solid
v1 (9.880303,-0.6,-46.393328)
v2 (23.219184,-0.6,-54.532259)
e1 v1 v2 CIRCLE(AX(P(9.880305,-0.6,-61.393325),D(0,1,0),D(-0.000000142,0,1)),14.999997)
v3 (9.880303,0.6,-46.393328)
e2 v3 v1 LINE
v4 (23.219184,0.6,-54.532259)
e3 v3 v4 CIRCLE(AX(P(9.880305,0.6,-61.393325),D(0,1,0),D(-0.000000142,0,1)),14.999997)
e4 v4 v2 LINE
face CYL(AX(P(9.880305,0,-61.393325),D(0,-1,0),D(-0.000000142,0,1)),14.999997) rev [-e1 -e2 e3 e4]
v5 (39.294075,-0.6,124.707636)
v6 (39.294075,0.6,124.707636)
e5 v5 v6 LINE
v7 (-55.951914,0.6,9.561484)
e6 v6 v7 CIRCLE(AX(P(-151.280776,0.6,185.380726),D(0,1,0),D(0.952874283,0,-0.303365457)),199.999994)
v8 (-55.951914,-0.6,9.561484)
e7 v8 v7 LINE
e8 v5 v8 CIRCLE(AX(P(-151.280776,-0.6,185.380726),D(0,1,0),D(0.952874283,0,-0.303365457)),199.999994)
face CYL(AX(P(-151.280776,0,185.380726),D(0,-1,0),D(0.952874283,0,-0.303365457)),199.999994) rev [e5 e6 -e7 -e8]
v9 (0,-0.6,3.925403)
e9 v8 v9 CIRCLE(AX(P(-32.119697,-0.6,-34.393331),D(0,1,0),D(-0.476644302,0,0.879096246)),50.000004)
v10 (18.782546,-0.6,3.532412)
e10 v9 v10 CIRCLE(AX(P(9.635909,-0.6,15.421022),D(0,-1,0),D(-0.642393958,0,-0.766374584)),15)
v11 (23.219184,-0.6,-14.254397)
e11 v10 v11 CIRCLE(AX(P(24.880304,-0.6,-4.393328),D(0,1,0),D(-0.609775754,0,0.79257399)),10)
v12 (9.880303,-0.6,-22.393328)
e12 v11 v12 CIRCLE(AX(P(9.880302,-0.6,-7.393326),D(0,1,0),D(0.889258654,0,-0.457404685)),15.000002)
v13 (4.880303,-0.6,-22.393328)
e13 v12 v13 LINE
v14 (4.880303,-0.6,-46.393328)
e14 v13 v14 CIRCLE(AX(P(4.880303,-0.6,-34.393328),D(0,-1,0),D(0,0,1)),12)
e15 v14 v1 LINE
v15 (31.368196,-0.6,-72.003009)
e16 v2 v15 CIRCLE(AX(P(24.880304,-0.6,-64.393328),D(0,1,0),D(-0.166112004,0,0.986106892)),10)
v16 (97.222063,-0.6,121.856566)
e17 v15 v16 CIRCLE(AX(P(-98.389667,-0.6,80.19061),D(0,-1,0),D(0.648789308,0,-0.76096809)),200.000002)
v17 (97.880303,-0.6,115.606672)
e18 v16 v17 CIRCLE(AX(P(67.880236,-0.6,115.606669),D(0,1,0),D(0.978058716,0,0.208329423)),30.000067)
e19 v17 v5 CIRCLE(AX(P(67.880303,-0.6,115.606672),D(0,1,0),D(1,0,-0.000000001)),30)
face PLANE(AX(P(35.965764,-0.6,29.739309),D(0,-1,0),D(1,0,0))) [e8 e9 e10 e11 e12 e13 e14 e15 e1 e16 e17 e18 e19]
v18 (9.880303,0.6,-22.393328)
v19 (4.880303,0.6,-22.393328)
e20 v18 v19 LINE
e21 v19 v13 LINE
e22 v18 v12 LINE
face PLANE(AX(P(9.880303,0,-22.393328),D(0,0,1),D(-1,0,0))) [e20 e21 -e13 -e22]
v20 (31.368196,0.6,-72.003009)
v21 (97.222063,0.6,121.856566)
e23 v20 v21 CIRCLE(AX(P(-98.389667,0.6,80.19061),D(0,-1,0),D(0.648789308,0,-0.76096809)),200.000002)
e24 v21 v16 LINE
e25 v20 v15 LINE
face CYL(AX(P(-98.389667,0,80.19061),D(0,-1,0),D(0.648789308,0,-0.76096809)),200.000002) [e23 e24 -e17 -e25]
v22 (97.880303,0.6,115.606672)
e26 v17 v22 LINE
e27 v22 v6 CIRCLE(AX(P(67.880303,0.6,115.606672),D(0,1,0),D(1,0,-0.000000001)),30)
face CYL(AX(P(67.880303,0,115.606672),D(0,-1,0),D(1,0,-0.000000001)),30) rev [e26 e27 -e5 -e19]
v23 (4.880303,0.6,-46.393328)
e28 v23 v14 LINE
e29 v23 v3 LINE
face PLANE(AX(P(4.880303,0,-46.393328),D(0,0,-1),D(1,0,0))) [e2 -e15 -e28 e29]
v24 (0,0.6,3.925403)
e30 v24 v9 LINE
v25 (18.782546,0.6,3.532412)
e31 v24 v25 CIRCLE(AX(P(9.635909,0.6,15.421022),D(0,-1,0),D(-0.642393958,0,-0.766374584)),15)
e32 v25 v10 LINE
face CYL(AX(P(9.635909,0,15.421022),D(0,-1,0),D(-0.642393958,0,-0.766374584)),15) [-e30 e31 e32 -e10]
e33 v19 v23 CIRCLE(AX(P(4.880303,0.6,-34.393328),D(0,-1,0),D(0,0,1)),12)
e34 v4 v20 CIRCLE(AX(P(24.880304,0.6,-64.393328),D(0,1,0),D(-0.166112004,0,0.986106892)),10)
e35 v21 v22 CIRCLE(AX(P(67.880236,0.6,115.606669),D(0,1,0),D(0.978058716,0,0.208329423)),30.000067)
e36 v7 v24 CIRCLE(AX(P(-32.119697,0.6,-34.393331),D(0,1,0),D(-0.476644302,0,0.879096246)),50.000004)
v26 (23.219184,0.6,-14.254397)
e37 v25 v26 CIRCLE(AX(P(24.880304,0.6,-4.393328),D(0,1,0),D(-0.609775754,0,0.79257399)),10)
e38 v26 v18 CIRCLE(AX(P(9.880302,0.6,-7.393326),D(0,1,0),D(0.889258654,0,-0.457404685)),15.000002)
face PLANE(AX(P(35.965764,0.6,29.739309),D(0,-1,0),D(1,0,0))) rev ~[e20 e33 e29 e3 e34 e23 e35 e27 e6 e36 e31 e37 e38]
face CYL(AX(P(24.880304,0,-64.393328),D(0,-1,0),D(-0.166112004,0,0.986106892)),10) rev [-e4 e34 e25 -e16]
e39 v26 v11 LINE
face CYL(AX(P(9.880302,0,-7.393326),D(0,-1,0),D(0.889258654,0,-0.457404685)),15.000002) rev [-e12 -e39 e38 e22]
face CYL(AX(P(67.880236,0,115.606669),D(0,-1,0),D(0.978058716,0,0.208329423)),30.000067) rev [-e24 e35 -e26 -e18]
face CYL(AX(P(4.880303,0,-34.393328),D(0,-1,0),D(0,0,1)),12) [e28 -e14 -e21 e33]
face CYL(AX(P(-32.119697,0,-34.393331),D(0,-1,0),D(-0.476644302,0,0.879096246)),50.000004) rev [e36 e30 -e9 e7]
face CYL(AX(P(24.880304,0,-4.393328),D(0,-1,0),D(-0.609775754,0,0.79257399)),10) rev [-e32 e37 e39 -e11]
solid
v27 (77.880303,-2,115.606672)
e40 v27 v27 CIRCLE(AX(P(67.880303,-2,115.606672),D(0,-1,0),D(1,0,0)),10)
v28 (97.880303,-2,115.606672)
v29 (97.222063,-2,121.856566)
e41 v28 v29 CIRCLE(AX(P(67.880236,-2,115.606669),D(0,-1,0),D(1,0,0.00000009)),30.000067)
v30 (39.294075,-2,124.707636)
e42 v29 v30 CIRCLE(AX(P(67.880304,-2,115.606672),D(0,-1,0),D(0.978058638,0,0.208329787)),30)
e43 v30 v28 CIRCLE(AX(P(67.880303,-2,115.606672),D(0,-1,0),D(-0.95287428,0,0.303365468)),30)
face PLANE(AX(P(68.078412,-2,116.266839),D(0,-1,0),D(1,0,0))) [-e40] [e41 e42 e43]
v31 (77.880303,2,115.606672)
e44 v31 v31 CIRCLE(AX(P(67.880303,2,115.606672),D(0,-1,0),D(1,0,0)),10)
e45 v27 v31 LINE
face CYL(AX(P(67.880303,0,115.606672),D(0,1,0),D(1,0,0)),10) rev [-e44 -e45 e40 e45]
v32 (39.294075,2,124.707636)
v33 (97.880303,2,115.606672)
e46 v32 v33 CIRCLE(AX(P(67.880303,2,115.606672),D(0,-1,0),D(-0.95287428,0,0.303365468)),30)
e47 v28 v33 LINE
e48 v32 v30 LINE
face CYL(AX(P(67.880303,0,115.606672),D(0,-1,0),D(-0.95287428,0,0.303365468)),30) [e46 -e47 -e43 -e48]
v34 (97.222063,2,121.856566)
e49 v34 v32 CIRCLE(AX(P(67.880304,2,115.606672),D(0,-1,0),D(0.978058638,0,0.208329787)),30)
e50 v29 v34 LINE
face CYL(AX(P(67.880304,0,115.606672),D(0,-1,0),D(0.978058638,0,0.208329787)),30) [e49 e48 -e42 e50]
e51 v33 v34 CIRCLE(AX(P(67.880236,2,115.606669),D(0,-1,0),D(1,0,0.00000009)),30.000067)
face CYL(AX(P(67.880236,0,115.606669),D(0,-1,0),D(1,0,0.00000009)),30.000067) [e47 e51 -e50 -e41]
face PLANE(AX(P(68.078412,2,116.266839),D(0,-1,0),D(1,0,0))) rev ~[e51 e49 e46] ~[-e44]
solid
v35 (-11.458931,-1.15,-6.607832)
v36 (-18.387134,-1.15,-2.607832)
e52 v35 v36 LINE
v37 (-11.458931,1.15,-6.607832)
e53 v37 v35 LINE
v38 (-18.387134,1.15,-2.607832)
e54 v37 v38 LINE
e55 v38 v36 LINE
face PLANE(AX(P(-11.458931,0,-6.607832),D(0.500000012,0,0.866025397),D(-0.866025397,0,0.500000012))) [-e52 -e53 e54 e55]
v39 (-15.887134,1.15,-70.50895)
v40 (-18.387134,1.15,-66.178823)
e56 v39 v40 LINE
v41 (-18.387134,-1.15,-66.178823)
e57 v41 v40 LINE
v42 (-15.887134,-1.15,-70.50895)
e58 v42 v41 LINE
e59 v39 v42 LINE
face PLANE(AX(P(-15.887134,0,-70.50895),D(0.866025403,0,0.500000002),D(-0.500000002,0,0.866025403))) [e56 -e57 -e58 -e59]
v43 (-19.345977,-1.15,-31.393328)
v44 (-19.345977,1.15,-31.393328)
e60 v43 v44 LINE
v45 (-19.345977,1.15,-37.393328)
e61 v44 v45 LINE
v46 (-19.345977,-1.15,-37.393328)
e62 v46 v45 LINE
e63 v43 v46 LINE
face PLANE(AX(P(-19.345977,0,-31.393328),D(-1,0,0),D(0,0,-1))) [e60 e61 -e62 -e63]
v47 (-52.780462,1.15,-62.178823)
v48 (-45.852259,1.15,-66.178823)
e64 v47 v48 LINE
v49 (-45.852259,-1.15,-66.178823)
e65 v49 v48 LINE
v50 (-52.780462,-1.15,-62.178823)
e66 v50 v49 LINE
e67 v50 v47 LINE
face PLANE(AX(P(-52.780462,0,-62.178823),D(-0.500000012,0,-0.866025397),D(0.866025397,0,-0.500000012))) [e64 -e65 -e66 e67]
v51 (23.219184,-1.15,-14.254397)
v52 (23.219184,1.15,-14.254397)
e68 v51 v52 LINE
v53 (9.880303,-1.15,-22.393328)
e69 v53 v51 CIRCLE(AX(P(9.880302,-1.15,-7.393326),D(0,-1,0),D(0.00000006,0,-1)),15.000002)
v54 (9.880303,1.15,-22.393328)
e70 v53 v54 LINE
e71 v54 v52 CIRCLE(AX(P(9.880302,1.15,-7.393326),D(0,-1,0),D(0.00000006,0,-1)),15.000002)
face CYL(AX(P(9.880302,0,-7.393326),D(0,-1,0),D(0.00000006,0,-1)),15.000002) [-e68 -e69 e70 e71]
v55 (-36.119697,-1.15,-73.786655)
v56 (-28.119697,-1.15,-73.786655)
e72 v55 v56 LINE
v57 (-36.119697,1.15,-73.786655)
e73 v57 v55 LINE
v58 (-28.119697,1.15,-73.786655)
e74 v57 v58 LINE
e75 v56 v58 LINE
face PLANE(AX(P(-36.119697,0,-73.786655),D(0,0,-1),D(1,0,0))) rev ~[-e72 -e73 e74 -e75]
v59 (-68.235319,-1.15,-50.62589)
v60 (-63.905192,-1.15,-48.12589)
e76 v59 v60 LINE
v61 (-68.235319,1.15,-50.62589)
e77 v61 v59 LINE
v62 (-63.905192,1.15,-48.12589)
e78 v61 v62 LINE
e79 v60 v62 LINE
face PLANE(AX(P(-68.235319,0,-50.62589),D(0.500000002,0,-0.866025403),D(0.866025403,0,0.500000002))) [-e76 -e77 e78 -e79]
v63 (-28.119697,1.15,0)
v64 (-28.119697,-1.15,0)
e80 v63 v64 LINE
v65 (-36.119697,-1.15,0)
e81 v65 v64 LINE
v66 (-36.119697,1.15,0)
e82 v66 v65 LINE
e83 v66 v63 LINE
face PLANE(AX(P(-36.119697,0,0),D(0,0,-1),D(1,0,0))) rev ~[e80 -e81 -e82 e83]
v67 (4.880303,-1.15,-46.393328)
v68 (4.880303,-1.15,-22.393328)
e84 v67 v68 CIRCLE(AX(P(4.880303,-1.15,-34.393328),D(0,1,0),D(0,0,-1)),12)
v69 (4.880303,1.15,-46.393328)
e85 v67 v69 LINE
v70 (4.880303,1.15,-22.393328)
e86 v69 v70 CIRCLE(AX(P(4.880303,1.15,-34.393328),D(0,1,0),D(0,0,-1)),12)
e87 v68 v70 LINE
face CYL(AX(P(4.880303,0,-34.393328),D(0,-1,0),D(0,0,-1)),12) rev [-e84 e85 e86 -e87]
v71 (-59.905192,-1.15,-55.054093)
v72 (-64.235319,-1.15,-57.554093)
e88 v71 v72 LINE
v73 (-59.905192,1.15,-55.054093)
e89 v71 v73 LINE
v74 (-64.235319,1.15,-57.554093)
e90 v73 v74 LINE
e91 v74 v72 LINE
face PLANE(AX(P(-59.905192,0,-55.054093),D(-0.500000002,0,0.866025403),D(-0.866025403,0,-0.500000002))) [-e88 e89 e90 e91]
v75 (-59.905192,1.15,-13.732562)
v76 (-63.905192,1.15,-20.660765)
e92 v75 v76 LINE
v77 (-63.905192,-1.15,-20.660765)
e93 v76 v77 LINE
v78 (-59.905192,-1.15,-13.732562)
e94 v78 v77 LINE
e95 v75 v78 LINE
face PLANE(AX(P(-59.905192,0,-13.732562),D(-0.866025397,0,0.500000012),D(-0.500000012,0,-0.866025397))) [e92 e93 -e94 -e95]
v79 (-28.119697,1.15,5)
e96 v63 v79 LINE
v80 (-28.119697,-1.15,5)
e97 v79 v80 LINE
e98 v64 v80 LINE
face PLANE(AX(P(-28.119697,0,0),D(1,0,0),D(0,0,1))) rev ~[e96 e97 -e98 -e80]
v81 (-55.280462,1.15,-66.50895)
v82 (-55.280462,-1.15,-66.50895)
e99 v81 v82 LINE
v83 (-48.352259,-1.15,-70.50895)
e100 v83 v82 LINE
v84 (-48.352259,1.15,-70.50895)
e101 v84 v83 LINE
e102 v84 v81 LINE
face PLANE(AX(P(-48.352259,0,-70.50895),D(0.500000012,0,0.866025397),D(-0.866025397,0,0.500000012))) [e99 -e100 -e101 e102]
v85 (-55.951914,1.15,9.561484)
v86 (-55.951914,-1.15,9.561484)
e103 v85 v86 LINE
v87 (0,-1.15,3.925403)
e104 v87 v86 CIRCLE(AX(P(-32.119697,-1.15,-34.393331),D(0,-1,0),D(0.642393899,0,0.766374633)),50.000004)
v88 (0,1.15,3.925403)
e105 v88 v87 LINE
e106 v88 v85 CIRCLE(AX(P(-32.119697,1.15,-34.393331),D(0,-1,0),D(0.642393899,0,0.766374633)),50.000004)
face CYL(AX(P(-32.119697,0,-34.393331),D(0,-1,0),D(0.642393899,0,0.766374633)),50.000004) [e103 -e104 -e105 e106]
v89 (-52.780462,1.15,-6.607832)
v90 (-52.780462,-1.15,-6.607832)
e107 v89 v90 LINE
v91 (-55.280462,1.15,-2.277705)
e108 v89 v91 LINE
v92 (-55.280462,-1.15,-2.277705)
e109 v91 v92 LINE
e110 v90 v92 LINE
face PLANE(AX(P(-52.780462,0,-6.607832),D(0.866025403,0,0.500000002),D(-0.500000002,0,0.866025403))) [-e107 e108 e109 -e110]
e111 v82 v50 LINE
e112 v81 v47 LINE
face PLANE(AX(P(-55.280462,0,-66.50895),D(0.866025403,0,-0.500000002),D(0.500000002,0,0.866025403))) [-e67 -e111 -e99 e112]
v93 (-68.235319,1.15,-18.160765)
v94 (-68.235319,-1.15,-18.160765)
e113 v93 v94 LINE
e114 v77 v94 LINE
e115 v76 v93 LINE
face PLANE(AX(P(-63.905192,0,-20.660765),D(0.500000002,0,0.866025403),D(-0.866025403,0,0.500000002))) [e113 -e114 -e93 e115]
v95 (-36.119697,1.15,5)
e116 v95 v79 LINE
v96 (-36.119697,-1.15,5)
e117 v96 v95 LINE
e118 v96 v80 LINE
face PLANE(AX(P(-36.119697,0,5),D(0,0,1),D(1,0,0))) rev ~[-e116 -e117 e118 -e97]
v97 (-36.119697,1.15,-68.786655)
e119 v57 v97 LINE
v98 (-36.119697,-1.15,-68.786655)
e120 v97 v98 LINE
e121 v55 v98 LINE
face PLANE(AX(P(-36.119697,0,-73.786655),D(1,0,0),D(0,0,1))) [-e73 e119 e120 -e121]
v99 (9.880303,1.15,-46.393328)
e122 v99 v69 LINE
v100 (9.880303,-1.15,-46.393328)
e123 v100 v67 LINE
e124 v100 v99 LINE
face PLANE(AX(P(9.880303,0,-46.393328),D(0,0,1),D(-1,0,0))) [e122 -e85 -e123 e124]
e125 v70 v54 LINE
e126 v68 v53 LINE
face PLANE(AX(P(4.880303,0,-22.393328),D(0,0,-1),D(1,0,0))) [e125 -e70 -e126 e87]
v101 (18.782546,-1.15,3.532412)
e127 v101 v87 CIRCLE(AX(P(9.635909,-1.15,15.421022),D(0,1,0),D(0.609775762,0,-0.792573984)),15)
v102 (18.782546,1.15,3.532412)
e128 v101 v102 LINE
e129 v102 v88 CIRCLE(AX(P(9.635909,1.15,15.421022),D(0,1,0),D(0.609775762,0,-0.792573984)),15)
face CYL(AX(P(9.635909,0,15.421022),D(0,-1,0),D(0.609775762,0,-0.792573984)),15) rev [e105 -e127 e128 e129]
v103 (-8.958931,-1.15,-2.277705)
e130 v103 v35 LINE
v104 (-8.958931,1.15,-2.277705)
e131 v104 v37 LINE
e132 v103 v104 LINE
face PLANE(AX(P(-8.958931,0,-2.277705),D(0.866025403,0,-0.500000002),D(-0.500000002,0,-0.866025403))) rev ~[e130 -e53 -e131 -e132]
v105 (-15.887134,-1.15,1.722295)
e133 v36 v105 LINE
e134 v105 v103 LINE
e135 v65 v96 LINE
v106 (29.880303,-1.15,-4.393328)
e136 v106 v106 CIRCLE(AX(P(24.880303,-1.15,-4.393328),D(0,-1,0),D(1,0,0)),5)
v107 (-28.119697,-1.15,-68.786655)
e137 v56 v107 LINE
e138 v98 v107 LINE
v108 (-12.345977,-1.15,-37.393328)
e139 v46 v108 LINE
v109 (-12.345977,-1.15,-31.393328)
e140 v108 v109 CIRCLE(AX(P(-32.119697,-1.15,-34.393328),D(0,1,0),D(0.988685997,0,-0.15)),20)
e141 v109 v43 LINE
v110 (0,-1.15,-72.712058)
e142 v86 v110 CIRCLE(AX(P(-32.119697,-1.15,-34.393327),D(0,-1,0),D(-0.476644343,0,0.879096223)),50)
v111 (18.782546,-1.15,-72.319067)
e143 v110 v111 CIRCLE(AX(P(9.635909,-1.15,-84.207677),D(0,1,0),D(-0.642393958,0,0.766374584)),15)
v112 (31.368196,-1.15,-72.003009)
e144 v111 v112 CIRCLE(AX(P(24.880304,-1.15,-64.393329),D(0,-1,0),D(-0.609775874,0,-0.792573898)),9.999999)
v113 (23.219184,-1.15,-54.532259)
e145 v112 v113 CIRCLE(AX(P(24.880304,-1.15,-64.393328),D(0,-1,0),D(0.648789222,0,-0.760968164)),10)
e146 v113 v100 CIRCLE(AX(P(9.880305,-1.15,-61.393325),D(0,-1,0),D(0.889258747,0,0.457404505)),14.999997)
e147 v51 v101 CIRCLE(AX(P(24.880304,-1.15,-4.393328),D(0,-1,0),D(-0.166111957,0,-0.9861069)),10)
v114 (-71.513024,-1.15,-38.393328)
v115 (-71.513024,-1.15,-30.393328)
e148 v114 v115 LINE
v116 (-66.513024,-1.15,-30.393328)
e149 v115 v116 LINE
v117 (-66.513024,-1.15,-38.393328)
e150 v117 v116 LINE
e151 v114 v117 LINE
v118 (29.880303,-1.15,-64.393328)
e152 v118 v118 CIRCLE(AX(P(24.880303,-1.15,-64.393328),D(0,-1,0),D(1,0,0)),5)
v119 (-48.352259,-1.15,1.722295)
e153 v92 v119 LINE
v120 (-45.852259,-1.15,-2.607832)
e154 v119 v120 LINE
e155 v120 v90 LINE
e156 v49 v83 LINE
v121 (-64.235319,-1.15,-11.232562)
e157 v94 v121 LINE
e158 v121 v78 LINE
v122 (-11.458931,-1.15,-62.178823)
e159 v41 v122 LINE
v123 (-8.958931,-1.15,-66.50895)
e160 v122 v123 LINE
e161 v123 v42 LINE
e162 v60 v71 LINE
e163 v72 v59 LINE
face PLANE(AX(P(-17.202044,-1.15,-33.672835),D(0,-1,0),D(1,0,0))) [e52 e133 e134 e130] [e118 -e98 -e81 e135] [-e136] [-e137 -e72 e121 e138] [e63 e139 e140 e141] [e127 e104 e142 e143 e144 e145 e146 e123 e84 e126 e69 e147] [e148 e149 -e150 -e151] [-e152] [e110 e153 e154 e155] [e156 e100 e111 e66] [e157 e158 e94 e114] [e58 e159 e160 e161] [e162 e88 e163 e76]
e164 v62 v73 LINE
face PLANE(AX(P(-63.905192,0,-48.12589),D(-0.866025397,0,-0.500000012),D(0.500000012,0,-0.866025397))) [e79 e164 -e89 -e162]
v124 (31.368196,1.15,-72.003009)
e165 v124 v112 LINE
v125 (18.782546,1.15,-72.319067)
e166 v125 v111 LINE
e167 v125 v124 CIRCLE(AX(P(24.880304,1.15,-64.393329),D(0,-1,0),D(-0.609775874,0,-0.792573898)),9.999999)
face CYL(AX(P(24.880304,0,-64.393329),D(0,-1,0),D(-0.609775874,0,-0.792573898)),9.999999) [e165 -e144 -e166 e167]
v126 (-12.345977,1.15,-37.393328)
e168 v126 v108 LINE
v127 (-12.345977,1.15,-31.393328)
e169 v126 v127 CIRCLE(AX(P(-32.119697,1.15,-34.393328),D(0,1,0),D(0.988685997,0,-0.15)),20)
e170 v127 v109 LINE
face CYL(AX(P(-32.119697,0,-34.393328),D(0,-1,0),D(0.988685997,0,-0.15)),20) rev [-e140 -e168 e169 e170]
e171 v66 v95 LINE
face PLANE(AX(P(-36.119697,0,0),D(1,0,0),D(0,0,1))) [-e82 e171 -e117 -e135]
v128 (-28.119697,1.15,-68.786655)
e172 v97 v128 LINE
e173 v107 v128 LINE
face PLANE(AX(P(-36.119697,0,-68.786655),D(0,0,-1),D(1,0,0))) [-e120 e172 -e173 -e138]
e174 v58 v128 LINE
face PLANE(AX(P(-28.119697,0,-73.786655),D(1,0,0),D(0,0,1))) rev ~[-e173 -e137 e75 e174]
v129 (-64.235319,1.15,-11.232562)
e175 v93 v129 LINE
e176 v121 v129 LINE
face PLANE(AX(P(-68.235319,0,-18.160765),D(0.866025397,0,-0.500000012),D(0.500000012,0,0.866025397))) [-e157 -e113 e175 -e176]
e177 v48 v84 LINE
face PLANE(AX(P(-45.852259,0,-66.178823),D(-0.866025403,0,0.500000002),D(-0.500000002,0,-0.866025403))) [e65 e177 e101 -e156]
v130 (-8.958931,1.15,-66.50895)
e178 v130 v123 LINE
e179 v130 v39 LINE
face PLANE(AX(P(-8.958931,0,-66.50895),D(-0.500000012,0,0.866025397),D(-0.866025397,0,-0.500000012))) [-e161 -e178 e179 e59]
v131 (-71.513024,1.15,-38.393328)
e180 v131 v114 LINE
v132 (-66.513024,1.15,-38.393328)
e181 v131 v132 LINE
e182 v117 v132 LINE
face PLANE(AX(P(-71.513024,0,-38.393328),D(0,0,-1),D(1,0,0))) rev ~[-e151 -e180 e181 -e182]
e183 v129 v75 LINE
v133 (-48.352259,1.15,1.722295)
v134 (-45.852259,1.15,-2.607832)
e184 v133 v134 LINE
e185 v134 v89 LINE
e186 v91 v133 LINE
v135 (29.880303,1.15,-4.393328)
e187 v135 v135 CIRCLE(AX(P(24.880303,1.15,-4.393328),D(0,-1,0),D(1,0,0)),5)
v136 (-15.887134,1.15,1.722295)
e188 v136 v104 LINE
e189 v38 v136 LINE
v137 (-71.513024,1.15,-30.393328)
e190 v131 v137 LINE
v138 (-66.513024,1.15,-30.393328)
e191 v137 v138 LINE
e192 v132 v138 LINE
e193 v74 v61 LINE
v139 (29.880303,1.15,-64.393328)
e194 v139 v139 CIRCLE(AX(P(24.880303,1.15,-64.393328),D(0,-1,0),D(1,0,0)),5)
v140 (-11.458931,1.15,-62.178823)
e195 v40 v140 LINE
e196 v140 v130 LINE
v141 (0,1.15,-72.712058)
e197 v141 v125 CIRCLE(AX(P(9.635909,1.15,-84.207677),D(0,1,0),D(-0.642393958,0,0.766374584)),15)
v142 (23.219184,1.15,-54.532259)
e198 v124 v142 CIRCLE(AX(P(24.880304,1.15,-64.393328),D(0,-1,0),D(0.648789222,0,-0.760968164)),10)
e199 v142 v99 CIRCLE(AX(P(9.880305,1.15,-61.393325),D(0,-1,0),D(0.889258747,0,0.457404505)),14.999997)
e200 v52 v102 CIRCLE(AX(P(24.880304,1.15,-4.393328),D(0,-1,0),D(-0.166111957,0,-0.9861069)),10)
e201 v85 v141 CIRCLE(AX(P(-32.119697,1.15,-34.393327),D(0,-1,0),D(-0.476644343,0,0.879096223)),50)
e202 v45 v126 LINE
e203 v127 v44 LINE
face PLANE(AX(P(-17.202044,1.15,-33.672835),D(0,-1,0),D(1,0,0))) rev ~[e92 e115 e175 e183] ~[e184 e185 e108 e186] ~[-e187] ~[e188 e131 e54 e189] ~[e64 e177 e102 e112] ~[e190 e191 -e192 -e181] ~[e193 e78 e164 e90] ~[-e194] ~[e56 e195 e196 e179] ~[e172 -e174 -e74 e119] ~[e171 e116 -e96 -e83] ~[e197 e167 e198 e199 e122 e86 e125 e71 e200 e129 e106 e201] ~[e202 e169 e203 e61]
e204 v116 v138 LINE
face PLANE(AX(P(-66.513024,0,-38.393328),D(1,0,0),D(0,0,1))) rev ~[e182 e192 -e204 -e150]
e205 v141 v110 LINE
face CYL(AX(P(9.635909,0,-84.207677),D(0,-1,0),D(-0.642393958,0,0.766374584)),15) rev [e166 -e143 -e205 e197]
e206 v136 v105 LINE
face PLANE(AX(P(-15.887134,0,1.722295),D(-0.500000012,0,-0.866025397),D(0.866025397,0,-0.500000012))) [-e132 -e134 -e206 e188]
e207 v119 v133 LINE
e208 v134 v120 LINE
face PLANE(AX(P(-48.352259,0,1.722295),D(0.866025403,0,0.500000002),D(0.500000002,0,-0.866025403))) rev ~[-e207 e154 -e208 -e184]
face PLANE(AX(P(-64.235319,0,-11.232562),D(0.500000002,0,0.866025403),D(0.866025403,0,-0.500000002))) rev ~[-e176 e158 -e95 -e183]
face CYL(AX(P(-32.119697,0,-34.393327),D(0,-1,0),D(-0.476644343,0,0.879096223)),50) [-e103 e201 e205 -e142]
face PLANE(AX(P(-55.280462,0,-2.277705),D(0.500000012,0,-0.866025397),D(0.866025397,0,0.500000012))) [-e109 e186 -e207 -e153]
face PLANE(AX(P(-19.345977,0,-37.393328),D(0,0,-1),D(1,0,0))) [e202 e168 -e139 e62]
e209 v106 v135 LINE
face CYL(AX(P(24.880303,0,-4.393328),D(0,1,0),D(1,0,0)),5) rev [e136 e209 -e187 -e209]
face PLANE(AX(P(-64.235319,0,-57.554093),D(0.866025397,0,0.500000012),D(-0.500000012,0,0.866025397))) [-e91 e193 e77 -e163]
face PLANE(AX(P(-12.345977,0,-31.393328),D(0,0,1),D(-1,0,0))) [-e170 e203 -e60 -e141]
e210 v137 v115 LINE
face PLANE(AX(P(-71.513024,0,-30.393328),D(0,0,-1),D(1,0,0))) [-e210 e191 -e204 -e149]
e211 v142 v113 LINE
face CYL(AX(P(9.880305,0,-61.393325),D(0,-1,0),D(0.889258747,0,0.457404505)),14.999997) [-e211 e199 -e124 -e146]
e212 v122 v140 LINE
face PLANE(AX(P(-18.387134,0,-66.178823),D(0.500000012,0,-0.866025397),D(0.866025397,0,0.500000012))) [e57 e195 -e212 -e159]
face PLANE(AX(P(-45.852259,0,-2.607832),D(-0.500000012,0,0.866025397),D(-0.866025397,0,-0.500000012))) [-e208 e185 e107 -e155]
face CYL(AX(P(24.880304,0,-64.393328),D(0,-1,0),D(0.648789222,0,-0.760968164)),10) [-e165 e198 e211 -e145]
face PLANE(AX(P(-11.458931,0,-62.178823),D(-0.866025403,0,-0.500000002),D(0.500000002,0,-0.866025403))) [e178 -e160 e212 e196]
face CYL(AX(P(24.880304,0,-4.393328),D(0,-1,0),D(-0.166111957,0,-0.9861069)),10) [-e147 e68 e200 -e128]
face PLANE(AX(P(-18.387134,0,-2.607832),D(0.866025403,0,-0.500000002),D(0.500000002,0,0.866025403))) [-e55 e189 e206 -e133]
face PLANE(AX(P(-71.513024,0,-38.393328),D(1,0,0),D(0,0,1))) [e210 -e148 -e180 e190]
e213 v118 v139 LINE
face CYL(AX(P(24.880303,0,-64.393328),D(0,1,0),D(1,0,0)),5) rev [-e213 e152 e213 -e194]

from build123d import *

# Parameters (mm, degrees)
F0_W     = 5
F0_H     = 8
F0_W_2   = 8
F0_H_2   = 5
F0_R     = 5
F1_DEPTH = 1.15
F0_R_2   = 10
F2_DEPTH = 2
F3_DEPTH = 0.6


with BuildPart() as f1:
    # F0 (on Front) → F1 (new body, symmetric)
    with BuildSketch(Plane.XZ):
        with BuildLine():
            ThreePointArc((18.782546, 3.532412), (9.32213, 0.424304), (0, 3.925403))
            ThreePointArc((0, 3.925403), (-27.108516, 15.354919), (-55.951914, 9.561484))
            ThreePointArc((-55.951914, 9.561484), (-73.464642, -62.510858), (0, -72.712058))
            ThreePointArc((0, -72.712058), (9.32213, -69.210959), (18.782546, -72.319067))
            ThreePointArc((18.782546, -72.319067), (25.131351, -74.390176), (31.368196, -72.003009))
            ThreePointArc((31.368196, -72.003009), (33.942931, -60.166179), (23.219184, -54.532259))
            ThreePointArc((23.219184, -54.532259), (17.69324, -48.588718), (9.880303, -46.393328))
            Line((9.880303, -46.393328), (4.880303, -46.393328))
            ThreePointArc((4.880303, -46.393328), (-7.119697, -34.393328), (4.880303, -22.393328))
            Line((4.880303, -22.393328), (9.880303, -22.393328))
            ThreePointArc((9.880303, -22.393328), (17.69324, -20.197937), (23.219184, -14.254397))
            ThreePointArc((23.219184, -14.254397), (34.583019, -1.973139), (18.782546, 3.532412))
        make_face()
        Polygon((-48.352259, -70.50895), (-55.280462, -66.50895), (-52.780462, -62.178823), (-45.852259, -66.178823), align=None, mode=Mode.SUBTRACT)
        Polygon((-64.235319, -57.554093), (-68.235319, -50.62589), (-63.905192, -48.12589), (-59.905192, -55.054093), align=None, mode=Mode.SUBTRACT)
        with Locations((-69.013024, -34.393328)):
            Rectangle(F0_W, F0_H, mode=Mode.SUBTRACT)
        with Locations((-32.119697, -71.286655)):
            Rectangle(F0_W_2, F0_H_2, mode=Mode.SUBTRACT)
        Polygon((-8.958931, -66.50895), (-15.887134, -70.50895), (-18.387134, -66.178823), (-11.458931, -62.178823), align=None, mode=Mode.SUBTRACT)
        with BuildLine():
            ThreePointArc((-12.345977, -37.393328), (-52.119697, -34.393328), (-12.345977, -31.393328))
            Line((-12.345977, -31.393328), (-19.345977, -31.393328))
            Line((-19.345977, -31.393328), (-19.345977, -37.393328))
            Line((-19.345977, -37.393328), (-12.345977, -37.393328))
        make_face(mode=Mode.SUBTRACT)
        Polygon((-68.235319, -18.160765), (-64.235319, -11.232562), (-59.905192, -13.732562), (-63.905192, -20.660765), align=None, mode=Mode.SUBTRACT)
        Polygon((-55.280462, -2.277705), (-48.352259, 1.722295), (-45.852259, -2.607832), (-52.780462, -6.607832), align=None, mode=Mode.SUBTRACT)
        Polygon((-15.887134, 1.722295), (-8.958931, -2.277705), (-11.458931, -6.607832), (-18.387134, -2.607832), align=None, mode=Mode.SUBTRACT)
        with Locations((-32.119697, 2.5)):
            Rectangle(F0_W_2, F0_H_2, mode=Mode.SUBTRACT)
        with Locations((24.880303, -64.393328)):
            Circle(F0_R, mode=Mode.SUBTRACT)
        with Locations((24.880303, -4.393328)):
            Circle(F0_R, mode=Mode.SUBTRACT)
    extrude(amount=F1_DEPTH, both=True)


with BuildPart() as f2:
    # F0 (on Front) → F2 (new body, symmetric)
    with BuildSketch(Plane.XZ):
        with BuildLine():
            ThreePointArc((97.222063, 121.856566), (69.355043, 145.570403), (39.294075, 124.707636))
            ThreePointArc((39.294075, 124.707636), (63.275244, 85.962222), (97.880303, 115.606672))
            ThreePointArc((97.880303, 115.606672), (97.715289, 118.748903), (97.222063, 121.856566))
        make_face()
        with Locations((67.880303, 115.606672)):
            Circle(F0_R_2, mode=Mode.SUBTRACT)
    extrude(amount=F2_DEPTH, both=True)


with BuildPart() as f3:
    # F0 (on Front) → F3 (new body, symmetric)
    with BuildSketch(Plane.XZ):
        with BuildLine():
            ThreePointArc((-55.951914, 9.561484), (-27.108516, 15.354919), (0, 3.925403))
            ThreePointArc((0, 3.925403), (9.32213, 0.424304), (18.782546, 3.532412))
            ThreePointArc((18.782546, 3.532412), (34.583019, -1.973139), (23.219184, -14.254397))
            ThreePointArc((23.219184, -14.254397), (17.69324, -20.197937), (9.880303, -22.393328))
            Line((9.880303, -22.393328), (4.880303, -22.393328))
            ThreePointArc((4.880303, -22.393328), (-7.119697, -34.393328), (4.880303, -46.393328))
            Line((4.880303, -46.393328), (9.880303, -46.393328))
            ThreePointArc((9.880303, -46.393328), (17.69324, -48.588718), (23.219184, -54.532259))
            ThreePointArc((23.219184, -54.532259), (33.942931, -60.166179), (31.368196, -72.003009))
            ThreePointArc((31.368196, -72.003009), (90.98226, 15.861192), (97.222063, 121.856566))
            ThreePointArc((97.222063, 121.856566), (97.715289, 118.748903), (97.880303, 115.606672))
            ThreePointArc((97.880303, 115.606672), (63.275244, 85.962222), (39.294075, 124.707636))
            ThreePointArc((39.294075, 124.707636), (2.829225, 57.904825), (-55.951914, 9.561484))
        make_face()
    extrude(amount=F3_DEPTH, both=True)


solid = Compound([f1.part, f2.part, f3.part])
